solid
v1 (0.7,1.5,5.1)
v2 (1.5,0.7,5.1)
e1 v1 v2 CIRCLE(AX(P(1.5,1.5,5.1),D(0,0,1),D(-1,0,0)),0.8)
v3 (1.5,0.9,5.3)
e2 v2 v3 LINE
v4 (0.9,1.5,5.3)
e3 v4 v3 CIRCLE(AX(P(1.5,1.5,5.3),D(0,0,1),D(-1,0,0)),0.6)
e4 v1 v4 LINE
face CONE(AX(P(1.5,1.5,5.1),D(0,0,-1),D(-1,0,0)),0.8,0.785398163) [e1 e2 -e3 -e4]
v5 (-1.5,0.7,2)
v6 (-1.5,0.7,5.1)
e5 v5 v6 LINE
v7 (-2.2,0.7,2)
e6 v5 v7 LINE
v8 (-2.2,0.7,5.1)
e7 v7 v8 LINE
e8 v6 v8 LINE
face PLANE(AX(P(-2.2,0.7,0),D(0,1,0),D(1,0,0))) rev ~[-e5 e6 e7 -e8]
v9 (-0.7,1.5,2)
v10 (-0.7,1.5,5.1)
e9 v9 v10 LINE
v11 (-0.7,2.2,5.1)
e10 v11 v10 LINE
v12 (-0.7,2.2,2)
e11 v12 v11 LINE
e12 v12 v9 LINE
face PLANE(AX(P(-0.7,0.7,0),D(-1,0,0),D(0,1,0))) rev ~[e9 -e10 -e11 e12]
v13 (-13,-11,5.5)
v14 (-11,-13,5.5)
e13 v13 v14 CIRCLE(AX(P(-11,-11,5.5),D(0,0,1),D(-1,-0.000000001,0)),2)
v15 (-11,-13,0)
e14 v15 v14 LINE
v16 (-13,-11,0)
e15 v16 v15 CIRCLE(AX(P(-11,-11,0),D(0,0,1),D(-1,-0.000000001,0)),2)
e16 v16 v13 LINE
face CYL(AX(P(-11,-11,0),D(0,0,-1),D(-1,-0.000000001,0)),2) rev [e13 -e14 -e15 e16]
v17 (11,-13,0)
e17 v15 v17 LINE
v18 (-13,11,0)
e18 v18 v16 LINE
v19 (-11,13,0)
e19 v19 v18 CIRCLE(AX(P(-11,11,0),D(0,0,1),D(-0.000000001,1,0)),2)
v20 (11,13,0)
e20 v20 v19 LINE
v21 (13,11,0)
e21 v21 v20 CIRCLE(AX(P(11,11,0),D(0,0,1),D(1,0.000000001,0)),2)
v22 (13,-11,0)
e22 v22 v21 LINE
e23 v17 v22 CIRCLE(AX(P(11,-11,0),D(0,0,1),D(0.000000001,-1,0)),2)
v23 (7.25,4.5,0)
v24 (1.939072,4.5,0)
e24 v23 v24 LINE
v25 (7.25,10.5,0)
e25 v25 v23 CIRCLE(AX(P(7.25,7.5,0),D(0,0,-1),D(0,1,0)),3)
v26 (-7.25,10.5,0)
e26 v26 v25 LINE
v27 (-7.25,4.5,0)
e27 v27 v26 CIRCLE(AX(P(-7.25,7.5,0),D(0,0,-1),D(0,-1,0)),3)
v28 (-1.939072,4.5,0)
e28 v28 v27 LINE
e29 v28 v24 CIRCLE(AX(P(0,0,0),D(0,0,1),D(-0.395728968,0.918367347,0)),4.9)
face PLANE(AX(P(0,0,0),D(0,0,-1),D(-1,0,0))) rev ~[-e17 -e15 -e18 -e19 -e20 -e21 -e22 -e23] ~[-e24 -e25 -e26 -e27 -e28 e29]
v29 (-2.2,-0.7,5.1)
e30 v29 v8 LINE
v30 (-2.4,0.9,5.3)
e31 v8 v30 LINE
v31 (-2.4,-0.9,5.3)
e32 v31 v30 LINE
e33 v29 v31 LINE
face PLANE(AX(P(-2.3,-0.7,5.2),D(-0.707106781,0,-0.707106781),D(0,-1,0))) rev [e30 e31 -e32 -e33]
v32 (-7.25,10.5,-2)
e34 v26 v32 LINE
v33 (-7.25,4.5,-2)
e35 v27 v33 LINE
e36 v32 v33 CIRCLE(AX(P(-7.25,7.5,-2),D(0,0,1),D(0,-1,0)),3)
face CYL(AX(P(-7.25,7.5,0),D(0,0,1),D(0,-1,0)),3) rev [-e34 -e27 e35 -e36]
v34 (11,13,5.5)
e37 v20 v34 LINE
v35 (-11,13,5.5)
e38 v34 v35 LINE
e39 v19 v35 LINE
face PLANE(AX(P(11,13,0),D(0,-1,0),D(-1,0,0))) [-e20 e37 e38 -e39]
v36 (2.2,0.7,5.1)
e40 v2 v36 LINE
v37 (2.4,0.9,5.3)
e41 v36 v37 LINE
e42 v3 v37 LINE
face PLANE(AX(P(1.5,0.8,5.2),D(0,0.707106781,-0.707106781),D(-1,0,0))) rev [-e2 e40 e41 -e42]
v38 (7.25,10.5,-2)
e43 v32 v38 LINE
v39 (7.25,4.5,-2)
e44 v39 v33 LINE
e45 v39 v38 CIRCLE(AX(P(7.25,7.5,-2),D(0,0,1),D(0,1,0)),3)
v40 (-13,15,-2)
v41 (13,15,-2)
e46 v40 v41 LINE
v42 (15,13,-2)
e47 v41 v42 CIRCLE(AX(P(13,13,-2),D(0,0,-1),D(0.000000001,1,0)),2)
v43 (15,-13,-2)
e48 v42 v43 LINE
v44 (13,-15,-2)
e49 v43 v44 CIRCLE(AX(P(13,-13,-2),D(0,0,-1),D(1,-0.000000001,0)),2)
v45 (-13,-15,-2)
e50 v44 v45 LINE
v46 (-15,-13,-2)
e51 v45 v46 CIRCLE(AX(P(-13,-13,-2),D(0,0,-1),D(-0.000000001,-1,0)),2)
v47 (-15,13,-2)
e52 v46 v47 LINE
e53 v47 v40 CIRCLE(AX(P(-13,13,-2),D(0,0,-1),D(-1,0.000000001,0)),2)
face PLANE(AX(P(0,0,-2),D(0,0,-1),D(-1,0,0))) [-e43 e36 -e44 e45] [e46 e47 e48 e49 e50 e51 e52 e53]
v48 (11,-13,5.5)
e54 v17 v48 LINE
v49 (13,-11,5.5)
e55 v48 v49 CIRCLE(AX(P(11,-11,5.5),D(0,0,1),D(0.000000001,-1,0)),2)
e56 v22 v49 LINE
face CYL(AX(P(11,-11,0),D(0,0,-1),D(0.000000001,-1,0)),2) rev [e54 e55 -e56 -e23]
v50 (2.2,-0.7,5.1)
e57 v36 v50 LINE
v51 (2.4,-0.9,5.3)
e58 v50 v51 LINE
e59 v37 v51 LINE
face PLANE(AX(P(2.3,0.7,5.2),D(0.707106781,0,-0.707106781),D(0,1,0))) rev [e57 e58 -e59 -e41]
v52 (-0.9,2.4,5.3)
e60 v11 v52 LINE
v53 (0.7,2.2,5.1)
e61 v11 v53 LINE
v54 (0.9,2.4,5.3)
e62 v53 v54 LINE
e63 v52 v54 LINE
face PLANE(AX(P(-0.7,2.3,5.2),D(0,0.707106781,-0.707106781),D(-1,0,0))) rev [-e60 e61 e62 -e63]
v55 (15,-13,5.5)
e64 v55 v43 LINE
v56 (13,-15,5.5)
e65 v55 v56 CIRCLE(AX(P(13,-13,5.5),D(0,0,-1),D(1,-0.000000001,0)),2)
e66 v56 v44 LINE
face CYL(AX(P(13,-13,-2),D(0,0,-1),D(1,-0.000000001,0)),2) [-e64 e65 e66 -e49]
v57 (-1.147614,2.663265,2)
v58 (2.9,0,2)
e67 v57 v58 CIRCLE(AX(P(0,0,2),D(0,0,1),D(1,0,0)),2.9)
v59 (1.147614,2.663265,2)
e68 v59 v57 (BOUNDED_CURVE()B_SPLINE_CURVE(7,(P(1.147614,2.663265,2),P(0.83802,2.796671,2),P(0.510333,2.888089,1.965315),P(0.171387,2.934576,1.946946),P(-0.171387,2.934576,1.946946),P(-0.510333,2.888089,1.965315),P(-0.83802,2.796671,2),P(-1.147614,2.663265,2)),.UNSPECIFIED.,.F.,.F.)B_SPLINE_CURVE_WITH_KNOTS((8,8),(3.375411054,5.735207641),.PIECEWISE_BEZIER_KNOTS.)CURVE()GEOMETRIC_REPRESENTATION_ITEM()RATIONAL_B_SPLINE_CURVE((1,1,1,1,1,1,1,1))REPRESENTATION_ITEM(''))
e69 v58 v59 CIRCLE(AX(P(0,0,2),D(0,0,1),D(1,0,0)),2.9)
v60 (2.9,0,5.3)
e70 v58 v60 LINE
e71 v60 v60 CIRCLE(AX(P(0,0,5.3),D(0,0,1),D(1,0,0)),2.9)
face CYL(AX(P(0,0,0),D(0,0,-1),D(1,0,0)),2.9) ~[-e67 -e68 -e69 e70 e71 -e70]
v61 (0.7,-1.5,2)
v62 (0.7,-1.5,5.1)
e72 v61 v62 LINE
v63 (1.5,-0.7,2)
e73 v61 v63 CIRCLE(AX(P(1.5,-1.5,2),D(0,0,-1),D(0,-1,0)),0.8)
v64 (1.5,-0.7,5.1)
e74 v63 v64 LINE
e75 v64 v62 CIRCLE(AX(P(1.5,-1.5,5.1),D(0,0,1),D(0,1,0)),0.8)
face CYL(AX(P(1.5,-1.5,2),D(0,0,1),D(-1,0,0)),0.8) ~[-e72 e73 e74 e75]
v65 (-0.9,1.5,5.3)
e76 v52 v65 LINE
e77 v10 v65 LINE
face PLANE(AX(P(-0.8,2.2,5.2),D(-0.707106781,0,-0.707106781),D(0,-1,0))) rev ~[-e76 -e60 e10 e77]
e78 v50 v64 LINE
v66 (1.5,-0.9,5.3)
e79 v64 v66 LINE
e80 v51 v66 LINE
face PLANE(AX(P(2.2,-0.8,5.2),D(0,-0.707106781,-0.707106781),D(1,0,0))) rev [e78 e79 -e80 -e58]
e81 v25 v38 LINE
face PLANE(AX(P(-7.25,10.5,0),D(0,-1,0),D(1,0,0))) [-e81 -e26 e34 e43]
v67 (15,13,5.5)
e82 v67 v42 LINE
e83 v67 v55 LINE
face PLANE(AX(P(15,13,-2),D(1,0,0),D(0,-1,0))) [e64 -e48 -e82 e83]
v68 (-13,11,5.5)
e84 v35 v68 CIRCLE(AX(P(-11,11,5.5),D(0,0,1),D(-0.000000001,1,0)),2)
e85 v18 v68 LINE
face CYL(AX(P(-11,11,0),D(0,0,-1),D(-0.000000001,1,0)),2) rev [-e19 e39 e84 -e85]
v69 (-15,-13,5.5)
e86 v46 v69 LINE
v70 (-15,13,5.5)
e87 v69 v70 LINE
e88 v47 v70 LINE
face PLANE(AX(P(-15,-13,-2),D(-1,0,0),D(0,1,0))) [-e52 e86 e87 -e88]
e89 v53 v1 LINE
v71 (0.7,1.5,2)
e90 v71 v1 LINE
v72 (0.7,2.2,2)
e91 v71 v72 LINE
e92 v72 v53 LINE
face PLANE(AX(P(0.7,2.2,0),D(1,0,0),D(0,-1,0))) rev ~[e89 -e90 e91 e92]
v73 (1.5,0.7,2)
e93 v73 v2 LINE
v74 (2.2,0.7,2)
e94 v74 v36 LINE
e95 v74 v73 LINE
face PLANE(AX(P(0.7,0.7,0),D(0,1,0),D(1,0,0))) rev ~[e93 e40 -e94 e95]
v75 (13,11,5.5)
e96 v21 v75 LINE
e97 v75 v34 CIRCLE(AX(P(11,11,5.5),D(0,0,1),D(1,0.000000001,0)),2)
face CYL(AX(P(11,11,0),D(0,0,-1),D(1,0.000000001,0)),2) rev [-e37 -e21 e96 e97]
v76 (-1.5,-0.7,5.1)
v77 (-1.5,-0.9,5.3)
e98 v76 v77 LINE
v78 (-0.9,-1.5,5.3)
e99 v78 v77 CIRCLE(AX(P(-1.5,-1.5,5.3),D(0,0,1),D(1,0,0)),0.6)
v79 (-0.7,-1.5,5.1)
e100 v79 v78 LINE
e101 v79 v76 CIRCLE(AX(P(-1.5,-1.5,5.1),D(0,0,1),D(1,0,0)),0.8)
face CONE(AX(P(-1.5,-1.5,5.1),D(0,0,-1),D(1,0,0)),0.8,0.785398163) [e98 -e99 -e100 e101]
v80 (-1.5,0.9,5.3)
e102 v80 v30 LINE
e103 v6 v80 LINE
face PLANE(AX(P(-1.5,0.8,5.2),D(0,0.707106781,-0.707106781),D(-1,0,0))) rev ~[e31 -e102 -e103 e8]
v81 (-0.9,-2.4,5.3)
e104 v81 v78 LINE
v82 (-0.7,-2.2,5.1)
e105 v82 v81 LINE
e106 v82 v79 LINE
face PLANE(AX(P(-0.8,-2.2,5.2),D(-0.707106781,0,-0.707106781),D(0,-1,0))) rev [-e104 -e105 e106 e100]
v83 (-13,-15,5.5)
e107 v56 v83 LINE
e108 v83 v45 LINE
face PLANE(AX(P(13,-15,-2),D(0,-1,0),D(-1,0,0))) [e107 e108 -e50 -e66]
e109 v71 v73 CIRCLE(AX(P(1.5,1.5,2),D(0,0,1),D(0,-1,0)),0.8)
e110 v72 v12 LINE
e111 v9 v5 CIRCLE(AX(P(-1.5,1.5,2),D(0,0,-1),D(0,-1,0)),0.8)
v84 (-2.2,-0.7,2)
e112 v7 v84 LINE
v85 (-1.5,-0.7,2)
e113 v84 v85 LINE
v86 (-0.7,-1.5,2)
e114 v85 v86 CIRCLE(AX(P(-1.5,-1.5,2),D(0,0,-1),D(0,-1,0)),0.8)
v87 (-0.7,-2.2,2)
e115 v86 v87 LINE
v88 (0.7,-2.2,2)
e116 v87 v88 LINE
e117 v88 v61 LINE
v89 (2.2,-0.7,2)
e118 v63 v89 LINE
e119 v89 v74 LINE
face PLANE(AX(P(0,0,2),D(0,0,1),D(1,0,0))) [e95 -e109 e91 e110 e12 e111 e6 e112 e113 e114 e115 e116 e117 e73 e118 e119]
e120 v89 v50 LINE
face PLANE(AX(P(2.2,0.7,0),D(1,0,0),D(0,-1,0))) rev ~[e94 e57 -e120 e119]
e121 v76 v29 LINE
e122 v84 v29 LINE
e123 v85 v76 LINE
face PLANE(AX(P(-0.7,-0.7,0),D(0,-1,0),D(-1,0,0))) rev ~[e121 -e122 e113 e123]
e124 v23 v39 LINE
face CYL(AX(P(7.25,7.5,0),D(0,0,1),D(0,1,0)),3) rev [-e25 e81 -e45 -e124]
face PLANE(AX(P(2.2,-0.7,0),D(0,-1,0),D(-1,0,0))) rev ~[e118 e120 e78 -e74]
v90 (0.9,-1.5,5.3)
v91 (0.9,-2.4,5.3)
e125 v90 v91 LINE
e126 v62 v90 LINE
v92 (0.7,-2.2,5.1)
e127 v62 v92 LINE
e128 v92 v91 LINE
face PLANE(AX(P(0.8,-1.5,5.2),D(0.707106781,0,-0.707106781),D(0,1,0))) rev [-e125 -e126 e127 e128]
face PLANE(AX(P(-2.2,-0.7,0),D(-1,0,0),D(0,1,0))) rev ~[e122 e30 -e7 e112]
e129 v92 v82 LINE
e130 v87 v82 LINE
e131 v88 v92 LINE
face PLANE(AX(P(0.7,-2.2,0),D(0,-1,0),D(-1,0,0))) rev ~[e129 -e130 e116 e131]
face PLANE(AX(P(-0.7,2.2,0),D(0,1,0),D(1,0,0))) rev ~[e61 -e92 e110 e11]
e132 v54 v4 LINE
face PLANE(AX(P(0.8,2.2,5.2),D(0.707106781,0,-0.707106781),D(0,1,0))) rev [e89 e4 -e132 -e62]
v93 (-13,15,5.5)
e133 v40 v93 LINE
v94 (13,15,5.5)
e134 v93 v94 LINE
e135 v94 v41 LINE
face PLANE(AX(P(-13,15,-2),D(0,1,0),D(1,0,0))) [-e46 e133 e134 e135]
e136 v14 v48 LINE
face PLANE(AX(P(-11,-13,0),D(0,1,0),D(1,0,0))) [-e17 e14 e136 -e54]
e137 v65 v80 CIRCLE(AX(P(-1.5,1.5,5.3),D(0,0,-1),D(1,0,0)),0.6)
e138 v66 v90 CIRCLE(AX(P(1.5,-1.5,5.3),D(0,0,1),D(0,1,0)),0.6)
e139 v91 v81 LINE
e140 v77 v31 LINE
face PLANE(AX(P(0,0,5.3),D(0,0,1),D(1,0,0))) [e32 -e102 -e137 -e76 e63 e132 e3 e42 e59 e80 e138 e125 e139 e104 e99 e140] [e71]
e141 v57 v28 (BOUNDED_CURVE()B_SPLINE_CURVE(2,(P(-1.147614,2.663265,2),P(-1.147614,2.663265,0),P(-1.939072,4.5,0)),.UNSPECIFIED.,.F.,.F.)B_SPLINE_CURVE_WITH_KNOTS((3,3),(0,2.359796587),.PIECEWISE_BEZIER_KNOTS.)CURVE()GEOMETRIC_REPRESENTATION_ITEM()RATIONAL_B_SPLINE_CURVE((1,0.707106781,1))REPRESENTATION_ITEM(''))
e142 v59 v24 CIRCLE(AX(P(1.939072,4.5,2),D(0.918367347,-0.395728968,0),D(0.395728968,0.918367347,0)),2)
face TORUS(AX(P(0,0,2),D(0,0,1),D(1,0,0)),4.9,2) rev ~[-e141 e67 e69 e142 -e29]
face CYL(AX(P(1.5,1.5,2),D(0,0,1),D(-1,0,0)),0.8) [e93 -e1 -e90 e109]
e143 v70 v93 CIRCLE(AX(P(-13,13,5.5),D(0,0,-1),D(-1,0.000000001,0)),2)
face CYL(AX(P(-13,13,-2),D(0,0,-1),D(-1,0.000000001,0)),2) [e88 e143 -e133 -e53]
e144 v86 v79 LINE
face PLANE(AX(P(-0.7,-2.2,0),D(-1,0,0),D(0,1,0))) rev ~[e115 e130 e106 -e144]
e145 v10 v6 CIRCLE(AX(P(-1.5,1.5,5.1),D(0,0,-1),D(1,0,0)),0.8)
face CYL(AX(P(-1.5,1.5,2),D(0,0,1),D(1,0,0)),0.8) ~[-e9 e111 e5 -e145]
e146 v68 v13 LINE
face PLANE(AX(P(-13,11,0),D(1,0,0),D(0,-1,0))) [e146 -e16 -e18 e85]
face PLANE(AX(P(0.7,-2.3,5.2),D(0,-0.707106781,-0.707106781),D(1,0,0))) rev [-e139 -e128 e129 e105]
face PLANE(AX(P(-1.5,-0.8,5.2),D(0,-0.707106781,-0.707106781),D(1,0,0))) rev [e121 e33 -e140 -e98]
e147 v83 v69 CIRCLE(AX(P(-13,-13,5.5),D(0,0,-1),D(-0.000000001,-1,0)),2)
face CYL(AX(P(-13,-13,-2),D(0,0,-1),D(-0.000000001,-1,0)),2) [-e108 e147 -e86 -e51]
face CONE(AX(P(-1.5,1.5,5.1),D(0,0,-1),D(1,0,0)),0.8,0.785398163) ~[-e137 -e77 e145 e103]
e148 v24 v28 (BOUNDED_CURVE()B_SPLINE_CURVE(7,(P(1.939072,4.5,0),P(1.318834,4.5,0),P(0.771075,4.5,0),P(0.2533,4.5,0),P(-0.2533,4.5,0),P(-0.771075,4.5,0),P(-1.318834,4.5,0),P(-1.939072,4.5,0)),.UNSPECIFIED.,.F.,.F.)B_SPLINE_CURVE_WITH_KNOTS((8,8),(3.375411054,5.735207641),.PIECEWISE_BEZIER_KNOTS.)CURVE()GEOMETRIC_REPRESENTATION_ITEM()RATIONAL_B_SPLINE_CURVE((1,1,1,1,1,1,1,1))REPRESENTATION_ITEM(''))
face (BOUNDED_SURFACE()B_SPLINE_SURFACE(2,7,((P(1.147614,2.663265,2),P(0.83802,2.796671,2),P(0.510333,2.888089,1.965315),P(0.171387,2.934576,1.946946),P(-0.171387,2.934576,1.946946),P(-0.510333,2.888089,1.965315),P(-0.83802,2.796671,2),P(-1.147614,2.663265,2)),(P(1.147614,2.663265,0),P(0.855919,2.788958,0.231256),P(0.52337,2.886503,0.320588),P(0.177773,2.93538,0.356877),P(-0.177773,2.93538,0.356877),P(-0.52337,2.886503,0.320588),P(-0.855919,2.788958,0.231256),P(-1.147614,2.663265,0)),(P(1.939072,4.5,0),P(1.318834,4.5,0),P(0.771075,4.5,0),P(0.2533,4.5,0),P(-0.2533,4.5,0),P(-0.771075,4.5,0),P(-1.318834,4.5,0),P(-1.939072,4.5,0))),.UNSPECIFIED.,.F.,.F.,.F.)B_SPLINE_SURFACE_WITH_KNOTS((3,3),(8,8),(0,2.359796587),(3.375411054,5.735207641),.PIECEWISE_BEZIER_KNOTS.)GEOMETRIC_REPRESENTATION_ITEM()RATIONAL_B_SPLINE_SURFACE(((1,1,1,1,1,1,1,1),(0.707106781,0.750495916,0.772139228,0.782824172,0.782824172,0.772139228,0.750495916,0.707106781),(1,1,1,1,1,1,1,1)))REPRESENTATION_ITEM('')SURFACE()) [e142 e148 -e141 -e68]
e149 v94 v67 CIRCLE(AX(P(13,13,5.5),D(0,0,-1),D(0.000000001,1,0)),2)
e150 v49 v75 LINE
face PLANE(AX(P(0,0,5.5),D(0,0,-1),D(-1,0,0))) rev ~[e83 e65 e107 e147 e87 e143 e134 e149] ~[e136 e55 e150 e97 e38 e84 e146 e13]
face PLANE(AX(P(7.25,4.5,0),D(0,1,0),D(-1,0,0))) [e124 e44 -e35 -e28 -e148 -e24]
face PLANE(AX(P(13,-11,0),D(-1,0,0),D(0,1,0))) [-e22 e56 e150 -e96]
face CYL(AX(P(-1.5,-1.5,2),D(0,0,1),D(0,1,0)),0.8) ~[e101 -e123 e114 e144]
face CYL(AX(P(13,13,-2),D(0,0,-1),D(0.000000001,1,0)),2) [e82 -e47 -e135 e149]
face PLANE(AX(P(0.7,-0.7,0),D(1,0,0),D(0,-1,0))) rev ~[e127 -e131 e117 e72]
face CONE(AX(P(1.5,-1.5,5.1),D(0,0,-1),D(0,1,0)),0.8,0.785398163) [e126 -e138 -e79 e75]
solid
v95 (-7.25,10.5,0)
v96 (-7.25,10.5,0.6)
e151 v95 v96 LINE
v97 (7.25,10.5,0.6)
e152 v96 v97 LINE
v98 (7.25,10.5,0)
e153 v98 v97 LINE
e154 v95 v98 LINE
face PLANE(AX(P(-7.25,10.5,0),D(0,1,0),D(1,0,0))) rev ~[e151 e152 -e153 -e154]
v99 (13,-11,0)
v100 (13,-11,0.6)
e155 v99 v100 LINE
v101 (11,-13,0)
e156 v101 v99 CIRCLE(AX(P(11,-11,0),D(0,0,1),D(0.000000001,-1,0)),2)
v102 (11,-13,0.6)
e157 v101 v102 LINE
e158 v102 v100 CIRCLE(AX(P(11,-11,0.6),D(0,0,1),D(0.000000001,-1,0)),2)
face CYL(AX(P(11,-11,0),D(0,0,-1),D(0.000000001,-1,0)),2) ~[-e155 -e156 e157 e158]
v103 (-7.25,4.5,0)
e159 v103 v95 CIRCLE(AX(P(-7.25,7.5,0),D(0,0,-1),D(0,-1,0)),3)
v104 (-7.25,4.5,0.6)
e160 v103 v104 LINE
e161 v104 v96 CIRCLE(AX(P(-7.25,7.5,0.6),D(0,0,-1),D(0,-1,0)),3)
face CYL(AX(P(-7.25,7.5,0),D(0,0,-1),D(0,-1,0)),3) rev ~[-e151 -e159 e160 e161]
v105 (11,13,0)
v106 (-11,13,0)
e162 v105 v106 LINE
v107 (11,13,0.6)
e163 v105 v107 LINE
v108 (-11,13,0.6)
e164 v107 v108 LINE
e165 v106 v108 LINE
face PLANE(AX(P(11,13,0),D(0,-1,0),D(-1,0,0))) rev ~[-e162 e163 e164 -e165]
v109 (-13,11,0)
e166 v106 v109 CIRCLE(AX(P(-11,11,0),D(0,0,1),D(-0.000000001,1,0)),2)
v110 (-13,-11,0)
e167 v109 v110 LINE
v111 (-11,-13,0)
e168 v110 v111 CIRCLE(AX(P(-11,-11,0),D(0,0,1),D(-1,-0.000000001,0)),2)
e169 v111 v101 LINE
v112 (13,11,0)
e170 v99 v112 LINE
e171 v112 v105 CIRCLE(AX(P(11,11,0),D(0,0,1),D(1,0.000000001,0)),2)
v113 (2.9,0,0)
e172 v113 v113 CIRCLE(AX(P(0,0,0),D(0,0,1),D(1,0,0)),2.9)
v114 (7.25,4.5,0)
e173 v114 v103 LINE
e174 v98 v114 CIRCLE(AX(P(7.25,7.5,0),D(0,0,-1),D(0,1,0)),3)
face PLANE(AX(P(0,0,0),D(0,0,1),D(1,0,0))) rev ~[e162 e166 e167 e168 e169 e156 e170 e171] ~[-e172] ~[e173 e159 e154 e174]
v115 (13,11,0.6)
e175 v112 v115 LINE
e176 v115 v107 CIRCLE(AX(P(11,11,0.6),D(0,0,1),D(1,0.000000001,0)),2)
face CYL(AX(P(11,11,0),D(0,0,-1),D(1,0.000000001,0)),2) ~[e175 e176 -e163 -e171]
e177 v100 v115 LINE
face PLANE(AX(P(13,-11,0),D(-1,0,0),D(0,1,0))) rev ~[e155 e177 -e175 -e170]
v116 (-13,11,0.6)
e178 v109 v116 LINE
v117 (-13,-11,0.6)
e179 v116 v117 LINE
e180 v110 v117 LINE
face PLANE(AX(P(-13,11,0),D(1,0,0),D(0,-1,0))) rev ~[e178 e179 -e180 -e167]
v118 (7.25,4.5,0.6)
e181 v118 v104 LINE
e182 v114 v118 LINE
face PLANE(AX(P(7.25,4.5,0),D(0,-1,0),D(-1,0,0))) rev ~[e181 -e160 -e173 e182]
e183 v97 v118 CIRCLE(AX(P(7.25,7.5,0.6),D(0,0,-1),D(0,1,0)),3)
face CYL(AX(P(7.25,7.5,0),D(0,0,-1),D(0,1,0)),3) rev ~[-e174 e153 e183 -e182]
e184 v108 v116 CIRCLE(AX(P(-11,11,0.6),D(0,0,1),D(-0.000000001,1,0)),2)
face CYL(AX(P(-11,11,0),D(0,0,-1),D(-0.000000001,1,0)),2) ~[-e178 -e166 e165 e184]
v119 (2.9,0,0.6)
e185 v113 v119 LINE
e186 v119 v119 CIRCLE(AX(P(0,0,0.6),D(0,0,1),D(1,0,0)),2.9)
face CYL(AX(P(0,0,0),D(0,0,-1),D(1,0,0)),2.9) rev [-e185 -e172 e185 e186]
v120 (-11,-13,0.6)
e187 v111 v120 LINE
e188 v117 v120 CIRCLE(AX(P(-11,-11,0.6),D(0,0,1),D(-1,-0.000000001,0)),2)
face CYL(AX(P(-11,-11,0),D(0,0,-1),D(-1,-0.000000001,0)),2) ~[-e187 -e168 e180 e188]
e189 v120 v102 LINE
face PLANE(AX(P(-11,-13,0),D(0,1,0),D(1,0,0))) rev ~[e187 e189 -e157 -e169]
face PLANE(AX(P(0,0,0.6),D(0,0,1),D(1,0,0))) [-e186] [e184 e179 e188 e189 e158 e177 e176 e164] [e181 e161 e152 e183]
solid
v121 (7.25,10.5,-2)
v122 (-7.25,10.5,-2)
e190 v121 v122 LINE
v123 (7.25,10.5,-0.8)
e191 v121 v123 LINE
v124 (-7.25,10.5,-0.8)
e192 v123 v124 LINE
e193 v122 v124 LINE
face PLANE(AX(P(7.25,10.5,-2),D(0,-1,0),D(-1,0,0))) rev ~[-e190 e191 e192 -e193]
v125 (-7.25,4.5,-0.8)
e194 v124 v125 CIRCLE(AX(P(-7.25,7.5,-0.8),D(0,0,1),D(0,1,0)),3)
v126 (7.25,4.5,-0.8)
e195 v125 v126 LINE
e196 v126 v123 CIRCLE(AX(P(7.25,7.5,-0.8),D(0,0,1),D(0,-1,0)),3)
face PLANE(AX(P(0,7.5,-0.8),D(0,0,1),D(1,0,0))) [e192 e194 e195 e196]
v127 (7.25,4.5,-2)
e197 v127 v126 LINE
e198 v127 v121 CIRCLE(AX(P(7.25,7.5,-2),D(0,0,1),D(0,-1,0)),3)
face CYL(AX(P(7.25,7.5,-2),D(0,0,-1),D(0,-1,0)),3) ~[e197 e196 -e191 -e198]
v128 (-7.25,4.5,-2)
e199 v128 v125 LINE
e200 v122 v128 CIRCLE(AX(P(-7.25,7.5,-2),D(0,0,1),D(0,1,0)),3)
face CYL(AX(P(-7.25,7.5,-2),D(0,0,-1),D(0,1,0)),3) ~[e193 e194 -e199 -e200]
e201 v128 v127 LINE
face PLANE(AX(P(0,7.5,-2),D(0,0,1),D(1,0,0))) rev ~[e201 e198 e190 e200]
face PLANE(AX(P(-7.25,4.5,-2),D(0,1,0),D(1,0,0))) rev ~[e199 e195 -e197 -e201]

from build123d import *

# Parameters (mm, degrees)
EXTRUDE_1_DEPTH     = 5.5
SKETCH_1_6_R        = 2.9
EXTRUDE_2_DEPTH     = 5.3
EXTRUDE_START       = -2
EXTRUDE_3_DEPTH     = 2
EXTRUDE_4_DEPTH     = 2
CUT_EXTRUDE_1_REACH = 23.915
EXTRUDE_6_DEPTH     = 1.2
SKETCH_7_R          = 2.9
EXTRUDE_7_DEPTH     = 0.6
FILLET_4_R          = 0.8
CHAMFER_1_SIZE      = 0.2
FILLET_5_R          = 2


with BuildPart() as part:
    # 草图1 → 凸台-拉伸1 (new body)
    with BuildSketch(Plane.XY):
        with BuildLine():
            ThreePointArc((-15, 13), (-14.414213562, 14.414213562), (-13, 15))
            Line((-13, 15), (13, 15))
            ThreePointArc((13, 15), (14.414213562, 14.414213562), (15, 13))
            Line((15, 13), (15, -13))
            ThreePointArc((15, -13), (14.414213562, -14.414213562), (13, -15))
            Line((13, -15), (-13, -15))
            ThreePointArc((-13, -15), (-14.414213562, -14.414213562), (-15, -13))
            Line((-15, -13), (-15, 13))
        make_face()
        with BuildLine():
            ThreePointArc((-13, -11), (-12.414213562, -12.414213562), (-11, -13))
            Line((-11, -13), (11, -13))
            ThreePointArc((11, -13), (12.414213562, -12.414213562), (13, -11))
            Line((13, -11), (13, 11))
            ThreePointArc((13, 11), (12.414213562, 12.414213562), (11, 13))
            Line((11, 13), (-11, 13))
            ThreePointArc((-11, 13), (-12.414213562, 12.414213562), (-13, 11))
            Line((-13, 11), (-13, -11))
        make_face(mode=Mode.SUBTRACT)
    extrude(amount=EXTRUDE_1_DEPTH)



with BuildPart() as body_2:
    # 草图1<6> → 凸台-拉伸2 (new body)
    with BuildSketch(Plane.XY):
        Circle(SKETCH_1_6_R)
        Polygon((-2.2, -0.7), (-2.2, 0.7), (-0.7, 0.7), (-0.7, 2.2), (0.7, 2.2), (0.7, 0.7), (2.2, 0.7), (2.2, -0.7), (0.7, -0.7), (0.7, -2.2), (-0.7, -2.2), (-0.7, -0.7), align=None, mode=Mode.SUBTRACT)
    extrude(amount=EXTRUDE_2_DEPTH)


with BuildPart() as part_1:
    add(part.part)

    add(body_2.part)  # 凸台-拉伸3 merges body 2
    # 草图1<7> → 凸台-拉伸3 (add)
    with BuildSketch(Plane.XY.offset(EXTRUDE_START)):
        with BuildLine():
            Line((-13, 15), (13, 15))
            ThreePointArc((13, 15), (14.414213562, 14.414213562), (15, 13))
            Line((15, 13), (15, -13))
            ThreePointArc((15, -13), (14.414213562, -14.414213562), (13, -15))
            Line((13, -15), (-13, -15))
            ThreePointArc((-13, -15), (-14.414213562, -14.414213562), (-15, -13))
            Line((-15, -13), (-15, 13))
            ThreePointArc((-15, 13), (-14.414213562, 14.414213562), (-13, 15))
        make_face()
    extrude(amount=EXTRUDE_3_DEPTH)

    # 草图3 → 凸台-拉伸4 (add)
    with BuildSketch(Plane.XY):
        Polygon((0.7, 0.7), (0.7, 2.2), (-0.7, 2.2), (-0.7, 0.7), (-2.2, 0.7), (-2.2, -0.7), (-0.7, -0.7), (-0.7, -2.2), (0.7, -2.2), (0.7, -0.7), (2.2, -0.7), (2.2, 0.7), align=None)
    extrude(amount=EXTRUDE_4_DEPTH)

    # 草图5 → 切除-拉伸1 (cut, up to next)
    with BuildSketch(Plane.XY, mode=Mode.PRIVATE) as cut_extrude_1_sk1:
        with BuildLine():
            Line((7.25, 4.5), (-7.25, 4.5))
            ThreePointArc((-7.25, 4.5), (-10.25, 7.5), (-7.25, 10.5))
            Line((-7.25, 10.5), (7.25, 10.5))
            ThreePointArc((7.25, 10.5), (10.25, 7.5), (7.25, 4.5))
        make_face()
    cut_extrude_1_tool1 = extrude(cut_extrude_1_sk1.sketch, amount=-CUT_EXTRUDE_1_REACH, mode=Mode.PRIVATE) & part_1.part
    add(cut_extrude_1_tool1.solids().sort_by_distance((0, 7.5, 0))[0], mode=Mode.SUBTRACT)

    # 圆角4
    fillet_4_edges = [part_1.edges().sort_by_distance(p)[0] for p in [
        (0.7, 0.7, 3.65),
        (0.7, -0.7, 3.65),
        (-0.7, -0.7, 3.65),
        (-0.7, 0.7, 3.65),
    ]]
    fillet(fillet_4_edges, radius=FILLET_4_R)

    # 倒角1
    chamfer_1_edges = [part_1.edges().sort_by_distance(p)[0] for p in [
        (1.85, 0.7, 5.3),
        (1.85, -0.7, 5.3),
        (0.7, -1.85, 5.3),
        (-0.7, -1.85, 5.3),
        (0.934314575, -0.934314575, 5.3),
        (-0.934314575, -0.934314575, 5.3),
        (0.934314575, 0.934314575, 5.3),
        (-0.934314575, 0.934314575, 5.3),
        (0, -2.2, 5.3),
        (-1.85, -0.7, 5.3),
        (-2.2, 0, 5.3),
        (-0.7, 1.85, 5.3),
        (0, 2.2, 5.3),
        (0.7, 1.85, 5.3),
        (2.2, 0, 5.3),
        (-1.85, 0.7, 5.3),
    ]]
    chamfer(chamfer_1_edges, length=CHAMFER_1_SIZE)

    # 圆角5
    fillet_5_edges = [part_1.edges().sort_by_distance(p)[0] for p in [
        (-2.9, 0, 0),
    ]]
    fillet(fillet_5_edges, radius=FILLET_5_R)


with BuildPart() as body_2_2:
    # 草图6 → 凸台-拉伸6 (new body)
    with BuildSketch(Plane(origin=(0, 0, -2), x_dir=(-1, 0, 0), z_dir=(0, 0, -1))):
        with BuildLine():
            Line((7.25, 4.5), (-7.25, 4.5))
            ThreePointArc((-7.25, 4.5), (-10.25, 7.5), (-7.25, 10.5))
            Line((-7.25, 10.5), (7.25, 10.5))
            ThreePointArc((7.25, 10.5), (10.25, 7.5), (7.25, 4.5))
        make_face()
    extrude(amount=-EXTRUDE_6_DEPTH)


with BuildPart() as body_3:
    # 草图7 → 凸台-拉伸7 (new body)
    with BuildSketch(Plane.XY):
        with BuildLine():
            Line((-13, 11), (-13, -11))
            ThreePointArc((-13, -11), (-12.414213562, -12.414213562), (-11, -13))
            Line((-11, -13), (11, -13))
            ThreePointArc((11, -13), (12.414213562, -12.414213562), (13, -11))
            Line((13, -11), (13, 11))
            ThreePointArc((13, 11), (12.414213562, 12.414213562), (11, 13))
            Line((11, 13), (-11, 13))
            ThreePointArc((-11, 13), (-12.414213562, 12.414213562), (-13, 11))
        make_face()
        Circle(SKETCH_7_R, mode=Mode.SUBTRACT)
        with BuildLine():
            Line((7.25, 4.5), (-7.25, 4.5))
            ThreePointArc((-7.25, 4.5), (-10.25, 7.5), (-7.25, 10.5))
            Line((-7.25, 10.5), (7.25, 10.5))
            ThreePointArc((7.25, 10.5), (10.25, 7.5), (7.25, 4.5))
        make_face(mode=Mode.SUBTRACT)
    extrude(amount=EXTRUDE_7_DEPTH)


solid = Compound([part_1.part, body_2_2.part, body_3.part])
